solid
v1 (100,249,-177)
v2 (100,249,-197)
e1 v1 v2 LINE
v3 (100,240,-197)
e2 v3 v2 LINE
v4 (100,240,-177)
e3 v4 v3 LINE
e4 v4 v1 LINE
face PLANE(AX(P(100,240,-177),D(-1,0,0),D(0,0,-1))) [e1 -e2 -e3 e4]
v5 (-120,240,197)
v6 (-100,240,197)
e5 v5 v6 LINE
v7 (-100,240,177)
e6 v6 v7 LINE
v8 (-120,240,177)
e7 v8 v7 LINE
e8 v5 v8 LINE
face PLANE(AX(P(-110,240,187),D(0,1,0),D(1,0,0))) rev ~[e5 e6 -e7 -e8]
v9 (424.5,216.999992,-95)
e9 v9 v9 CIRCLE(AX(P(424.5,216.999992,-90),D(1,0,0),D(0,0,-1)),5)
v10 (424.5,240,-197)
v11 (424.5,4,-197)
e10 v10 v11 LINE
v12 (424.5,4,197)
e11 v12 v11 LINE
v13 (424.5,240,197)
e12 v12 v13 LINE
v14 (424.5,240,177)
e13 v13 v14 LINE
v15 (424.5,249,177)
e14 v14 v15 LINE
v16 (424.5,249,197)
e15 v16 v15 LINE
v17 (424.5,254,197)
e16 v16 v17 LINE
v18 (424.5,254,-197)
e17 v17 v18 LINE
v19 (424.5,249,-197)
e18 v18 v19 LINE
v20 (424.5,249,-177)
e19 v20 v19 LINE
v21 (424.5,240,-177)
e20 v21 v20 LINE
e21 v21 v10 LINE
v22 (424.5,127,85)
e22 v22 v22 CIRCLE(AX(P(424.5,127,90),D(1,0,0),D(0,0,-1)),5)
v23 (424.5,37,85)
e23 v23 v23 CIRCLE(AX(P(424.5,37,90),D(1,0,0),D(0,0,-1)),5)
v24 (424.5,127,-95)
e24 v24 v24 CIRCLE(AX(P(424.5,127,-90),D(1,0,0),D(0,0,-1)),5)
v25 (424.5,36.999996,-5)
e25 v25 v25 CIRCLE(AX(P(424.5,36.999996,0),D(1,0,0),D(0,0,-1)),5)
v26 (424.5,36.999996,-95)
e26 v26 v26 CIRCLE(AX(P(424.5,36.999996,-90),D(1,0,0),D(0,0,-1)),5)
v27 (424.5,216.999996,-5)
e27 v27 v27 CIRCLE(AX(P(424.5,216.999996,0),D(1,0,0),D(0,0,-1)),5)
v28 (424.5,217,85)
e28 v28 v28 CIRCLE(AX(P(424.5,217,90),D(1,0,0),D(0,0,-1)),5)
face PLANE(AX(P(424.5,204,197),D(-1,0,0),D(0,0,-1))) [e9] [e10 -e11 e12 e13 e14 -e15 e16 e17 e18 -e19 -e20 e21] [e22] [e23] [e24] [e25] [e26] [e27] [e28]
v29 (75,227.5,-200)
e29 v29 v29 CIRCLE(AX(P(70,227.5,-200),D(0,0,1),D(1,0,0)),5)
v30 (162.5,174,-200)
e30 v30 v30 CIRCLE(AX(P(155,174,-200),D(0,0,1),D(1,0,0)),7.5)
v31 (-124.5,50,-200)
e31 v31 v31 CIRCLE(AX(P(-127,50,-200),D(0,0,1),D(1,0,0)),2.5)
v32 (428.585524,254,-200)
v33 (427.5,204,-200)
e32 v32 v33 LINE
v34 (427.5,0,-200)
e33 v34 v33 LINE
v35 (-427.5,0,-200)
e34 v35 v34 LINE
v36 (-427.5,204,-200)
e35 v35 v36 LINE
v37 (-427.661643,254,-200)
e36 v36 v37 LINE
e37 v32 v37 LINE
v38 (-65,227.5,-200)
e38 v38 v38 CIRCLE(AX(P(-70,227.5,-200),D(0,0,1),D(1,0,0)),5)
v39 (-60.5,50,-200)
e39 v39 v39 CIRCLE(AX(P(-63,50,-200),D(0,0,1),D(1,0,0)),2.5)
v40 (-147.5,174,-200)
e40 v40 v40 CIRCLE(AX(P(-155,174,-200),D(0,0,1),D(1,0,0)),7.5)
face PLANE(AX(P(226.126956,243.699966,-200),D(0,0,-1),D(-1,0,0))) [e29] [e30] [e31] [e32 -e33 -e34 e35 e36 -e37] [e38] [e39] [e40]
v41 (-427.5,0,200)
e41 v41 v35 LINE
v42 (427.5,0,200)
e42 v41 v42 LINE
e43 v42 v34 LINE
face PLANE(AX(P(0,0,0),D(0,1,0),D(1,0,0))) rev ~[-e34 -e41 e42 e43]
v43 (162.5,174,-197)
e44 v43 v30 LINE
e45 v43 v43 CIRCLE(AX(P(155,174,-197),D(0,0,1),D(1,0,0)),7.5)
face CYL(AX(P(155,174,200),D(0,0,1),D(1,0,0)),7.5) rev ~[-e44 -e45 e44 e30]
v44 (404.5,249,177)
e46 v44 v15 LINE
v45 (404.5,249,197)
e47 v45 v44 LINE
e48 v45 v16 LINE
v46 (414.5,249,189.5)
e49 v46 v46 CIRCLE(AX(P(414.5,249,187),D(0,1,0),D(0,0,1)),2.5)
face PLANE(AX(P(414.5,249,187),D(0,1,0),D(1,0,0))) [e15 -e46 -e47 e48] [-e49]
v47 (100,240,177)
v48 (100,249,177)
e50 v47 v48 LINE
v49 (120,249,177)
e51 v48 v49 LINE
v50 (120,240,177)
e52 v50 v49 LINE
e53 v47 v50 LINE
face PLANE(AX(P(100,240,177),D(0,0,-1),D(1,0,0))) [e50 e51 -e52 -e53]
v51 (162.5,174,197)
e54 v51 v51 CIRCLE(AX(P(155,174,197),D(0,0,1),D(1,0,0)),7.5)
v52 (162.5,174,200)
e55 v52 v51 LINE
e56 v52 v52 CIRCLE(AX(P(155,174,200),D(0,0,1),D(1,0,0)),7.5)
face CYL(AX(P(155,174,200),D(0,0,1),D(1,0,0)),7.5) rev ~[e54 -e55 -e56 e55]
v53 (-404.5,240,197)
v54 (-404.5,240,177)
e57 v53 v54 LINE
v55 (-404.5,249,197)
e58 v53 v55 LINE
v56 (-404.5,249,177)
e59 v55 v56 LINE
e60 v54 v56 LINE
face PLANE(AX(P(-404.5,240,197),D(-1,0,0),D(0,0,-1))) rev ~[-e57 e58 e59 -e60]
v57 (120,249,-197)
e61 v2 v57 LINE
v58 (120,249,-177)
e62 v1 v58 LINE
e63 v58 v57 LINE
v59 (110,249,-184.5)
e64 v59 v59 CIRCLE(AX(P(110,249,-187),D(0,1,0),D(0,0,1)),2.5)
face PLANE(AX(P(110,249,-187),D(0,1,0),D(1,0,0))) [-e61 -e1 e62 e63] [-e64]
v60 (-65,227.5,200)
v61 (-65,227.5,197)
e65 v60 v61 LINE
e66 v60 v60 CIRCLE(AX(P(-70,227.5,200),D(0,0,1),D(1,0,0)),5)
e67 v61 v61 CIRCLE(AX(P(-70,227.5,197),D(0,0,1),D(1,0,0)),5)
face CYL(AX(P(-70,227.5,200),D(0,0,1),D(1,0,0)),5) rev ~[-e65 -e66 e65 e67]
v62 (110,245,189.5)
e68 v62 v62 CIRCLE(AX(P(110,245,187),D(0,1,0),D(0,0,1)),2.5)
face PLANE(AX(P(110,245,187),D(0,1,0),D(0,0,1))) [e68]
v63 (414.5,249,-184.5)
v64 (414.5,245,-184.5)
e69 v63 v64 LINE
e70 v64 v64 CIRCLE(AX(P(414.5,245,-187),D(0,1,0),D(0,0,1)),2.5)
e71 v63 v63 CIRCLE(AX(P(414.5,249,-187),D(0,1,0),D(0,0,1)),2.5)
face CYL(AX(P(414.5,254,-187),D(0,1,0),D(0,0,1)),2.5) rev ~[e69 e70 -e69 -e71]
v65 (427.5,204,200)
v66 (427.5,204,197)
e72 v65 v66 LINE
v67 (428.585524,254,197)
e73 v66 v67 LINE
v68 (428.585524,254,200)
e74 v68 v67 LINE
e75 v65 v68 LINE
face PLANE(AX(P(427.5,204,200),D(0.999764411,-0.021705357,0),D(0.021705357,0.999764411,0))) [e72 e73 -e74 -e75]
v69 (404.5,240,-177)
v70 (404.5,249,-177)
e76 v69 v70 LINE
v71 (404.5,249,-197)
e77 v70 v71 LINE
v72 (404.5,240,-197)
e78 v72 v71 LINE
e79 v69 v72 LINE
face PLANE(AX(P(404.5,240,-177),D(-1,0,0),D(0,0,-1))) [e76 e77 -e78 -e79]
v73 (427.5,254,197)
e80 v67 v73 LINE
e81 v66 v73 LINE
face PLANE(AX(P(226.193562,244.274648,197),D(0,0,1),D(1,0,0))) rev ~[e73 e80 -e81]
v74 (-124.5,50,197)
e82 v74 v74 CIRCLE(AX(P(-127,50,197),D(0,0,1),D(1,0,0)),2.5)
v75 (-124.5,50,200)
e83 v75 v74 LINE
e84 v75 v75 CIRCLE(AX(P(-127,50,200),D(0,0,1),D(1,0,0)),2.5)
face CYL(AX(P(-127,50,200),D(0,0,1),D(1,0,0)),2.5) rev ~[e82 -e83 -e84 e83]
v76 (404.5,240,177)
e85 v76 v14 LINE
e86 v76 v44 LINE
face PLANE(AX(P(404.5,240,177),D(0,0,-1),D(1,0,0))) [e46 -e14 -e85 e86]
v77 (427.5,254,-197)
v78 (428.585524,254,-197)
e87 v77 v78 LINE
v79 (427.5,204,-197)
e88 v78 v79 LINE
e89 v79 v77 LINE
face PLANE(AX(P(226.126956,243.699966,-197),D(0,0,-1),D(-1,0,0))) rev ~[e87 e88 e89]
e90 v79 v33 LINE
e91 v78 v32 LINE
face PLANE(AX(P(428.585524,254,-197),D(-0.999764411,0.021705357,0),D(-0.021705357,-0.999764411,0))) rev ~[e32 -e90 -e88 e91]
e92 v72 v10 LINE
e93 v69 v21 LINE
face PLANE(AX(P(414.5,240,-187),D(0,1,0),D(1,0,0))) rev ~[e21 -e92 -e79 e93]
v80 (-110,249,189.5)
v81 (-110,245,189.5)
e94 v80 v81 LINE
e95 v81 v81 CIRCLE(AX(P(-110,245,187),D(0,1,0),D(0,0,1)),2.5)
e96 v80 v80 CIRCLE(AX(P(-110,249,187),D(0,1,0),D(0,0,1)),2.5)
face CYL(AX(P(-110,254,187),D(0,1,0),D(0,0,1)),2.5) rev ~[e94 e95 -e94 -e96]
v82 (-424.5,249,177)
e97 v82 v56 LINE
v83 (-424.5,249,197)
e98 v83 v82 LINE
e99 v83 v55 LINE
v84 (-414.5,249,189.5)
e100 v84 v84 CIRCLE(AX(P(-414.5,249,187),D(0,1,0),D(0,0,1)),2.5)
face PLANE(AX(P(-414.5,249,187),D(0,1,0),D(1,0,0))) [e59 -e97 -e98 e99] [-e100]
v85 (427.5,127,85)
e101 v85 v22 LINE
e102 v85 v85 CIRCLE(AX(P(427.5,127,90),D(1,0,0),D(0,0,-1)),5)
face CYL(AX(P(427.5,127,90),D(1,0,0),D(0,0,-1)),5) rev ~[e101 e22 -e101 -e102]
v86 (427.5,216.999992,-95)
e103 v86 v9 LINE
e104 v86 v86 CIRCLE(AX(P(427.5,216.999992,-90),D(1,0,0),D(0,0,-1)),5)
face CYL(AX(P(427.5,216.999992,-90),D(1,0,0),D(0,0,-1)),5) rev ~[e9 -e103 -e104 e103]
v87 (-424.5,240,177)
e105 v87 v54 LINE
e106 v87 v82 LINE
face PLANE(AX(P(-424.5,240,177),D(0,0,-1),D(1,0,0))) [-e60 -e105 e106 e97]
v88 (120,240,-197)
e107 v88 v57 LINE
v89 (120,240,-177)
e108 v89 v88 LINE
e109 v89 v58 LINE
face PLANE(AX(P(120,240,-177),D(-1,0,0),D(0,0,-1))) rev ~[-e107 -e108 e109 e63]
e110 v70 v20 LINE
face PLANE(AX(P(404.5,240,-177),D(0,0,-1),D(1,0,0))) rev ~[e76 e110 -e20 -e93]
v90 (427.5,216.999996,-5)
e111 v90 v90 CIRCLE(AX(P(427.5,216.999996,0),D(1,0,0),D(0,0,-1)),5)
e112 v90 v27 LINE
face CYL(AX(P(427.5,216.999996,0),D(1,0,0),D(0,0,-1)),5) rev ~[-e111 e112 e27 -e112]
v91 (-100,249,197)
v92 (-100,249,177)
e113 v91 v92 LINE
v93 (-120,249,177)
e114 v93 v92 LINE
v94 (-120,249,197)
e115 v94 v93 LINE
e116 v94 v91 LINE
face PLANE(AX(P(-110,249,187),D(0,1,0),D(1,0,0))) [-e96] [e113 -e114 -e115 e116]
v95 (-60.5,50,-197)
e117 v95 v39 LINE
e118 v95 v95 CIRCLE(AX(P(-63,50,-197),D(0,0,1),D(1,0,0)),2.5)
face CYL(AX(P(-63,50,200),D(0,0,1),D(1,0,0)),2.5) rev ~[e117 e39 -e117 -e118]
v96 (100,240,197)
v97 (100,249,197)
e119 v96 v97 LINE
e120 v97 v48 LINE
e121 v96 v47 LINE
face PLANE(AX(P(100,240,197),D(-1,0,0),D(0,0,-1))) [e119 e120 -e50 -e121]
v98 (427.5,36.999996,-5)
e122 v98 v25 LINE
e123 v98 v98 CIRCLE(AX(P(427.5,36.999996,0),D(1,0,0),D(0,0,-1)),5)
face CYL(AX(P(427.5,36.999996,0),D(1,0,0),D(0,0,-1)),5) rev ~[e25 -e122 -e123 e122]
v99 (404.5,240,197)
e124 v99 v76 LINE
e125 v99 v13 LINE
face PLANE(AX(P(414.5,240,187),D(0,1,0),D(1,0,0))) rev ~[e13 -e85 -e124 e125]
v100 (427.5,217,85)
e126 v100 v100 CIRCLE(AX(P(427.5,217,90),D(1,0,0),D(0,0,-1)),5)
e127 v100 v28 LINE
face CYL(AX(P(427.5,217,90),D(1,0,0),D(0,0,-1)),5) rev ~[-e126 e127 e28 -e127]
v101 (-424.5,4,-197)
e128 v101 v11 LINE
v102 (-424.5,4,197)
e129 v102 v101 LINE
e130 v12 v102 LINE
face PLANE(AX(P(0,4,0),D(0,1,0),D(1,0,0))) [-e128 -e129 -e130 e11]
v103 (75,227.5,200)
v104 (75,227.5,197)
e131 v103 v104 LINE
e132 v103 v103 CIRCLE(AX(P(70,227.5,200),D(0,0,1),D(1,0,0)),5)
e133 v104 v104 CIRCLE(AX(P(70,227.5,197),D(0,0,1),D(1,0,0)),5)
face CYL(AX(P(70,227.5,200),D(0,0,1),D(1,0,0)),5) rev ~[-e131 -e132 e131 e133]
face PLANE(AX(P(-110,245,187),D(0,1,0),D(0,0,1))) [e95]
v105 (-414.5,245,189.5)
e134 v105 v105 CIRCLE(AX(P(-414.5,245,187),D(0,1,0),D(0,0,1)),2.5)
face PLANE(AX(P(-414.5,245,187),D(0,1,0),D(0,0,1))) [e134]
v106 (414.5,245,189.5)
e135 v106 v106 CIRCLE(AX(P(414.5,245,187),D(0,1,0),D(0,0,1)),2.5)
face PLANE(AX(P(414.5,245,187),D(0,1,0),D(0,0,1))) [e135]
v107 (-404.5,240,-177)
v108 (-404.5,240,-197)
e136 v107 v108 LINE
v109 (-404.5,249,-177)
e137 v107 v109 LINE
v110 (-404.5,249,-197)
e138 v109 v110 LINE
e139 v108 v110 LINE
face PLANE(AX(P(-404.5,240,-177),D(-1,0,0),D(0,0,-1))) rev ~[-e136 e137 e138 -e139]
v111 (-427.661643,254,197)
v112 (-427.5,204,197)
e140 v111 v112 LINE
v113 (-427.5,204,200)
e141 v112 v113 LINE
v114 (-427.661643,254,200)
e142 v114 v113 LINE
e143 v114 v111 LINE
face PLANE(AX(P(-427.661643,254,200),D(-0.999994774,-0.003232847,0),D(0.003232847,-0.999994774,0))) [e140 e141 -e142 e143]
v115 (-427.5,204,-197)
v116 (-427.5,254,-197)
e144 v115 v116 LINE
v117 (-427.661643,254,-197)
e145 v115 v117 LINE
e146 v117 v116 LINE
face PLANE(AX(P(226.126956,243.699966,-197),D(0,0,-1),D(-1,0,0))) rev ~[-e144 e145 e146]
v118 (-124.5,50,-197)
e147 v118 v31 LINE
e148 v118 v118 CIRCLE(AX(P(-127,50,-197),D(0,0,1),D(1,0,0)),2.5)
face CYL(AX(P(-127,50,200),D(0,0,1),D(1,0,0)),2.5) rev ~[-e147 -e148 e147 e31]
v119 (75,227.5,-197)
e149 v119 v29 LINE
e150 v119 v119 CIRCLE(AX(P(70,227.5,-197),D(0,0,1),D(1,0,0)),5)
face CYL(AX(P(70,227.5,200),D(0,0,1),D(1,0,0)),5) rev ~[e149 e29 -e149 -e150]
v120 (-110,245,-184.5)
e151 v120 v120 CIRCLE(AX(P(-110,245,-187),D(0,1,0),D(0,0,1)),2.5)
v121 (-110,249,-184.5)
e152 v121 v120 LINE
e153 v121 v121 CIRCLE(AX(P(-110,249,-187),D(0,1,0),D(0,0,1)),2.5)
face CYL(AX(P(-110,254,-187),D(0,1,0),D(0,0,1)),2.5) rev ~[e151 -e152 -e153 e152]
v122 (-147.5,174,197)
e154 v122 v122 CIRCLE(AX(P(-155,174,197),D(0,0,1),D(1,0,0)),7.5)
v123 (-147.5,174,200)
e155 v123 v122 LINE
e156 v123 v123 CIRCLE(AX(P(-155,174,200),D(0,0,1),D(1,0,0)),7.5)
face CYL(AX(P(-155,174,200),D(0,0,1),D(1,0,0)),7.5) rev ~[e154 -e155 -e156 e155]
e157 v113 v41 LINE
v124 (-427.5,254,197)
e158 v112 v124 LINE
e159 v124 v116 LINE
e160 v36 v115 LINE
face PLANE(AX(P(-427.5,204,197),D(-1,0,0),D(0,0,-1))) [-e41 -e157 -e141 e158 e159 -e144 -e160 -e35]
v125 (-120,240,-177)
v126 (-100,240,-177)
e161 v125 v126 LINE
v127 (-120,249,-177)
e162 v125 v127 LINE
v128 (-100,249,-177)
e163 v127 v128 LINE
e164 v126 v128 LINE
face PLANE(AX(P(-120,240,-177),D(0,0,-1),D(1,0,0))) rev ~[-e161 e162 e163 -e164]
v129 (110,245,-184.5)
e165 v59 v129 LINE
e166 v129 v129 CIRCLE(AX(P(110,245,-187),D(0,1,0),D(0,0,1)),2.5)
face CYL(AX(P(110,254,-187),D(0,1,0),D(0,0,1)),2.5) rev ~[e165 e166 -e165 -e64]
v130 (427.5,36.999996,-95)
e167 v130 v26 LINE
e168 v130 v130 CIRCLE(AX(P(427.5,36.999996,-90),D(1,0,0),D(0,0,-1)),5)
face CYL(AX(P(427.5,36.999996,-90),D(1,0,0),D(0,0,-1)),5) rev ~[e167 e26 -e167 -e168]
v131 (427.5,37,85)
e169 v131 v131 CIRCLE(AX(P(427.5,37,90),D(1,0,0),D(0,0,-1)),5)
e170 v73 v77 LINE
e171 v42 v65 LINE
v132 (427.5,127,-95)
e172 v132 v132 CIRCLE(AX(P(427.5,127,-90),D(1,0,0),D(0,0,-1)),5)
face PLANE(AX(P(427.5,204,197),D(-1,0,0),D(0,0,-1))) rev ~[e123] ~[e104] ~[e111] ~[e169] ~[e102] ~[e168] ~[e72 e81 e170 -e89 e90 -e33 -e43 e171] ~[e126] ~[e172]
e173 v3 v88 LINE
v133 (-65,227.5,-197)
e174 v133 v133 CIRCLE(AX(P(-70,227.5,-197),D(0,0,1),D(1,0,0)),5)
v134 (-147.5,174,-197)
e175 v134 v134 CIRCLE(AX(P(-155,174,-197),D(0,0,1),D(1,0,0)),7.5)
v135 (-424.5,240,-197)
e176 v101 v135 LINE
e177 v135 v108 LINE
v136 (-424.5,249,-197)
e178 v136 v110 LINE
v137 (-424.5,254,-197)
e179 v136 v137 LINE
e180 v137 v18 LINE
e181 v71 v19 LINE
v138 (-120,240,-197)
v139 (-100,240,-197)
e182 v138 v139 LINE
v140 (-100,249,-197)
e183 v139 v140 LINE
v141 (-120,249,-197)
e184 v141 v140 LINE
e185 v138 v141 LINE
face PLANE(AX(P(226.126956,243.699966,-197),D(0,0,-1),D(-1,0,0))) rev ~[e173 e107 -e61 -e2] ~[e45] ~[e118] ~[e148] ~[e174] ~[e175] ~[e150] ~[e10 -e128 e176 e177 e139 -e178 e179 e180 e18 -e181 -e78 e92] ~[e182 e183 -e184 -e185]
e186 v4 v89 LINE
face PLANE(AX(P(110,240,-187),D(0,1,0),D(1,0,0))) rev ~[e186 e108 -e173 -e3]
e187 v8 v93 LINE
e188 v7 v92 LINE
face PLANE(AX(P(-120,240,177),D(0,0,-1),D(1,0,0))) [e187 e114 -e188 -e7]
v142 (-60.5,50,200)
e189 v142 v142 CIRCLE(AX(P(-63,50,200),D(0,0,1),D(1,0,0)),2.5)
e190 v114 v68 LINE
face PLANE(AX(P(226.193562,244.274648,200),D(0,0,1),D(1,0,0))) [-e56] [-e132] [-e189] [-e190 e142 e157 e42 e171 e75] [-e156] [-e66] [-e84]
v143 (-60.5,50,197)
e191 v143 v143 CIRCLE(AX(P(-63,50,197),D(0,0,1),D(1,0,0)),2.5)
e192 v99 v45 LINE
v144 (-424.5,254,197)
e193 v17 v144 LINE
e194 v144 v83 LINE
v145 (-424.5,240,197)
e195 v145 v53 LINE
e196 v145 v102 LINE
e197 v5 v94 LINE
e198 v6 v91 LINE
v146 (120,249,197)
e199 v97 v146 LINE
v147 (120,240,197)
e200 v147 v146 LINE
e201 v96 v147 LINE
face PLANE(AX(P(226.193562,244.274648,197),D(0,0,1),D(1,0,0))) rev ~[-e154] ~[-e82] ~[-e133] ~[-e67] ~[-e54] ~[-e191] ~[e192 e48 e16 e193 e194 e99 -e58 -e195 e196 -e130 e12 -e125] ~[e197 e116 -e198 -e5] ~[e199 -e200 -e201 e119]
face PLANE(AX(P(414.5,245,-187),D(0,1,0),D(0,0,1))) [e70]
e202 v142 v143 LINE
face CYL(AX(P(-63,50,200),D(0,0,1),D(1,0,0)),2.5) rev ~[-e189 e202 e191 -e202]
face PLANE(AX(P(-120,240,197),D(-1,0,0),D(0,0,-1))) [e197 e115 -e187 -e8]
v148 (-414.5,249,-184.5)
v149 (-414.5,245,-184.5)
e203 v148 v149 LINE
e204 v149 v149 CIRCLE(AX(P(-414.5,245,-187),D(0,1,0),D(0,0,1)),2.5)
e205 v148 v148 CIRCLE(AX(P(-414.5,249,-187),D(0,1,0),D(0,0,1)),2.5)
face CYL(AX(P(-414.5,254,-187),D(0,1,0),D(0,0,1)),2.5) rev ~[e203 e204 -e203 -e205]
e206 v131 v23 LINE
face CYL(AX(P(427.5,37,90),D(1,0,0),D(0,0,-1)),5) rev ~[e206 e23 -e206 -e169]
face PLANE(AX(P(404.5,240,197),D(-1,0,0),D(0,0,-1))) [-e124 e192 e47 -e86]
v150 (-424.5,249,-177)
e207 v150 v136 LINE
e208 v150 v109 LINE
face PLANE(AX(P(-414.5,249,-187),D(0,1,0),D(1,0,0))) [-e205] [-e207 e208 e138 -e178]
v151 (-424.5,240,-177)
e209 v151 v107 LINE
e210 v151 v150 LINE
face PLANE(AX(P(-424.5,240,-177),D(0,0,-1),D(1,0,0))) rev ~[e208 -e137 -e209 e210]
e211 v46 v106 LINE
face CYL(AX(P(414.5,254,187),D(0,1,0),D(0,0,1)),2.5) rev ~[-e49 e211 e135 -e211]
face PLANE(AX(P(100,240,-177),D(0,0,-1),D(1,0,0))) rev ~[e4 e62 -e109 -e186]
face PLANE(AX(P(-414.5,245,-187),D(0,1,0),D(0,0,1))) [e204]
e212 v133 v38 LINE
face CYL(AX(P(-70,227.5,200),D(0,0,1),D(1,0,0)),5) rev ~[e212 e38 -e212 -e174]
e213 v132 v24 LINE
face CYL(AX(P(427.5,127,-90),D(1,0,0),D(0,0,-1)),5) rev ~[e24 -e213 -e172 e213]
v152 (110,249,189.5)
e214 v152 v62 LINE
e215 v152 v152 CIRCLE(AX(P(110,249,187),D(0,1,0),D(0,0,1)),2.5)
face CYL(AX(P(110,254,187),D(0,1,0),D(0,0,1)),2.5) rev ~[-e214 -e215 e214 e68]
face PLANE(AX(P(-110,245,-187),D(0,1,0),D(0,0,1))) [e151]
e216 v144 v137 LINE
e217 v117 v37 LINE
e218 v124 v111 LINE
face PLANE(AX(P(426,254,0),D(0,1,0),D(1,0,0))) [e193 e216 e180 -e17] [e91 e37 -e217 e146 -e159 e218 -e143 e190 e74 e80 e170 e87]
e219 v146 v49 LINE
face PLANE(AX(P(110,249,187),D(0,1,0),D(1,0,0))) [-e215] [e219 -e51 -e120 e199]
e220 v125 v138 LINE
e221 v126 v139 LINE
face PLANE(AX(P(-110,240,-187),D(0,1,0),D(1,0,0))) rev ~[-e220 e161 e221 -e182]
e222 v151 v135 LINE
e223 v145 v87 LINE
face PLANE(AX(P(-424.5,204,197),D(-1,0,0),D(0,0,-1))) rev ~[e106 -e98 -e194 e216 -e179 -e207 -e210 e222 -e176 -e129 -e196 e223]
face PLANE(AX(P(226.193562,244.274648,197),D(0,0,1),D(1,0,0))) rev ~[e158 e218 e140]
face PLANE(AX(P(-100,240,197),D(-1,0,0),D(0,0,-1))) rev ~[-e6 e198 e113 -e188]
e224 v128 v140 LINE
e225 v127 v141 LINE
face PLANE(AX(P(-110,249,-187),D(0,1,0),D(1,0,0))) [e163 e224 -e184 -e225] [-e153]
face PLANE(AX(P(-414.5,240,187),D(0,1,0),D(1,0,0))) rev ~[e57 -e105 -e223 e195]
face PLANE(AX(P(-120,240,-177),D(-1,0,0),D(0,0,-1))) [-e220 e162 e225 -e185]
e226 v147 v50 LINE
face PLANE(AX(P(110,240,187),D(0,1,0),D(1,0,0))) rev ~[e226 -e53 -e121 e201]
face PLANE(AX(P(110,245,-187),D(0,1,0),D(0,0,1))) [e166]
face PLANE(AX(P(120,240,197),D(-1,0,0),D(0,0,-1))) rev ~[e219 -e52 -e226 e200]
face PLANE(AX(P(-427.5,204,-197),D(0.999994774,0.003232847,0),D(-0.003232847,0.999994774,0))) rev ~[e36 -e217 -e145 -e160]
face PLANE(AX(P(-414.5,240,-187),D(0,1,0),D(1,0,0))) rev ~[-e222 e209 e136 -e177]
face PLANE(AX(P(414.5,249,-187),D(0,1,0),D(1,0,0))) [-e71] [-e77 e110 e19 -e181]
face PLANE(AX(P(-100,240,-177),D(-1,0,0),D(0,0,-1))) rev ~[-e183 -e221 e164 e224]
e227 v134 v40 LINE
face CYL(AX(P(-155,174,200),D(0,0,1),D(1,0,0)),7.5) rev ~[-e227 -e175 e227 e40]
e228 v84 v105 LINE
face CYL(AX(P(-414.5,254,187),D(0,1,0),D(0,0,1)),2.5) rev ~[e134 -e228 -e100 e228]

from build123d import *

# Parameters (mm, degrees)
SKETCH1_W            = 855
SKETCH1_H            = 400
BOSS_EXTRUDE1_DEPTH  = 4
SKETCH3_W            = 3
SKETCH3_H            = 394
BOSS_EXTRUDE2_DEPTH  = 200
BOSS_EXTRUDE3_DEPTH  = 3
BOSS_EXTRUDE4_START  = -3
BOSS_EXTRUDE4_DEPTH  = 3
SKETCH10_R           = 5
CUT_EXTRUDE4_DEPTH   = 639.178854241
SKETCH11_R           = 2.5
CUT_EXTRUDE5_DEPTH   = 639.178854241
BOSS_EXTRUDE7_DEPTH  = 3
BOSS_EXTRUDE10_START = -3
BOSS_EXTRUDE10_DEPTH = 3
SKETCH33_W           = 3
SKETCH33_H           = 394
BOSS_EXTRUDE14_DEPTH = 50
SKETCH34_W           = 3
SKETCH34_H           = 394
BOSS_EXTRUDE15_DEPTH = 50
SKETCH36_W           = 20
SKETCH36_H           = 20
BOSS_EXTRUDE16_DEPTH = 9
SKETCH40_R           = 2.5
CUT_EXTRUDE6_DEPTH   = 9
SKETCH44_W           = 20
SKETCH44_H           = 20
BOSS_EXTRUDE18_DEPTH = 9
SKETCH45_R           = 2.5
CUT_EXTRUDE7_DEPTH   = 9
SKETCH46_W           = 20
SKETCH46_H           = 20
BOSS_EXTRUDE19_DEPTH = 9
SKETCH47_R           = 2.5
CUT_EXTRUDE8_DEPTH   = 9
SKETCH48_W           = 20
SKETCH48_H           = 20
BOSS_EXTRUDE20_DEPTH = 9
SKETCH49_R           = 2.5
CUT_EXTRUDE9_DEPTH   = 9
SKETCH50_W           = 20
SKETCH50_H           = 20
BOSS_EXTRUDE21_DEPTH = 9
SKETCH51_R           = 2.5
CUT_EXTRUDE10_DEPTH  = 9
SKETCH52_W           = 20
SKETCH52_H           = 20
BOSS_EXTRUDE22_DEPTH = 9
SKETCH53_R           = 2.5
CUT_EXTRUDE11_DEPTH  = 9
SKETCH58_W           = 20
SKETCH58_H           = 20
BOSS_EXTRUDE25_DEPTH = 9
SKETCH61_R           = 2.5
CUT_EXTRUDE13_DEPTH  = 9
SKETCH62_W           = 20
SKETCH62_H           = 20
BOSS_EXTRUDE26_DEPTH = 9
SKETCH63_R           = 2.5
CUT_EXTRUDE14_DEPTH  = 9
SKETCH64_R           = 7.5
CUT_EXTRUDE15_DEPTH  = 639.906527631
SKETCH65_R           = 5
CUT_EXTRUDE16_DEPTH  = 3


with BuildPart() as part:
    # Sketch1 → Boss-Extrude1 (new body)
    with BuildSketch(Plane(origin=(0, 0, 0), x_dir=(1, 0, 0), z_dir=(0, 1, 0))):
        Rectangle(SKETCH1_W, SKETCH1_H)
    extrude(amount=BOSS_EXTRUDE1_DEPTH)

    # Sketch3 → Boss-Extrude2 (add)
    with BuildSketch(Plane(origin=(0, 4, 0), x_dir=(1, 0, 0), z_dir=(0, 1, 0))):
        Polygon((-424.5, 200), (-424.5, 197), (424.5, 197), (427.5, 197), (427.5, 200), align=None)
        with Locations((426, 0)):
            Rectangle(SKETCH3_W, SKETCH3_H)
        Polygon((-427.5, -197), (-427.5, -200), (427.5, -200), (427.5, -197), (424.5, -197), (-424.5, -197), align=None)
        Polygon((-427.5, 200), (-427.5, -197), (-424.5, -197), (-424.5, 197), (-424.5, 200), align=None)
    extrude(amount=BOSS_EXTRUDE2_DEPTH)

    # Sketch4 → Boss-Extrude3 (add)
    with BuildSketch(Plane.XY.offset(200)):
        with BuildLine():
            ThreePointArc((427.5, 204), (215.207022423, 241.457541713), (0, 254))
            Line((0, 254), (0, 204))
            Line((0, 204), (427.5, 204))
        make_face()
        with BuildLine():
            Line((0, 204), (0, 254))
            ThreePointArc((0, 254), (-215.207022423, 241.457541713), (-427.5, 204))
            Line((-427.5, 204), (0, 204))
        make_face()
        with BuildLine():
            ThreePointArc((427.5, 204), (215.207022423, 241.457541713), (0, 254))
            Line((0, 254), (0, 204))
            Line((0, 204), (427.5, 204))
        make_face()
        with BuildLine():
            Line((0, 204), (0, 254))
            ThreePointArc((0, 254), (-215.207022423, 241.457541713), (-427.5, 204))
            Line((-427.5, 204), (0, 204))
        make_face()
    extrude(amount=-BOSS_EXTRUDE3_DEPTH)

    # Sketch6 → Boss-Extrude4 (add)
    with BuildSketch(Plane(origin=(0, 0, -200), x_dir=(-1, 0, 0), z_dir=(0, 0, -1)).offset(BOSS_EXTRUDE4_START)):
        with BuildLine():
            ThreePointArc((427.5, 204), (215.207022423, 241.457541713), (0, 254))
            Line((0, 254), (0, 204))
            Line((0, 204), (427.5, 204))
        make_face()
        with BuildLine():
            Line((0, 204), (0, 254))
            ThreePointArc((0, 254), (-215.207022423, 241.457541713), (-427.5, 204))
            Line((-427.5, 204), (0, 204))
        make_face()
        with BuildLine():
            ThreePointArc((427.5, 204), (215.207022423, 241.457541713), (0, 254))
            Line((0, 254), (0, 204))
            Line((0, 204), (427.5, 204))
        make_face()
        with BuildLine():
            Line((0, 204), (0, 254))
            ThreePointArc((0, 254), (-215.207022423, 241.457541713), (-427.5, 204))
            Line((-427.5, 204), (0, 204))
        make_face()
    extrude(amount=BOSS_EXTRUDE4_DEPTH)

    # Sketch10 → Cut-Extrude4 (cut, through all)
    with BuildSketch(Plane.XY.offset(200)):
        with Locations((70, 227.5)):
            Circle(SKETCH10_R)
        with Locations((-70, 227.5)):
            Circle(SKETCH10_R)
    extrude(amount=-CUT_EXTRUDE4_DEPTH, mode=Mode.SUBTRACT)

    # Sketch11 → Cut-Extrude5 (cut, through all)
    with BuildSketch(Plane.XY.offset(200)):
        with Locations((-63, 50)):
            Circle(SKETCH11_R)
        with Locations((-127, 50)):
            Circle(SKETCH11_R)
    extrude(amount=-CUT_EXTRUDE5_DEPTH, mode=Mode.SUBTRACT)

    # Sketch12 → Boss-Extrude7 (add)
    with BuildSketch(Plane.XY.offset(200)):
        with BuildLine():
            Line((428.585523611, 254), (0, 254))
            ThreePointArc((0, 254), (215.207022423, 241.457541713), (427.5, 204))
            Line((427.5, 204), (428.585523611, 254))
        make_face()
        with BuildLine():
            ThreePointArc((-427.5, 204), (-215.207022423, 241.457541713), (0, 254))
            Line((0, 254), (-427.66164317, 254))
            Line((-427.66164317, 254), (-427.5, 204))
        make_face()
    extrude(amount=-BOSS_EXTRUDE7_DEPTH)

    # Sketch23 → Boss-Extrude10 (add)
    # profile 1 of 2: a face of its own
    with BuildSketch(Plane(origin=(0, 0, -200), x_dir=(-1, 0, 0), z_dir=(0, 0, -1)).offset(BOSS_EXTRUDE10_START)):
        with BuildLine():
            Line((-428.585523611, 254), (-427.5, 204))
            add(Edge.make_bspline(
                [(-427.5, 204), (-213.75, 254), (0, 254)],
                knots=[0, 0, 0, 0.5, 0.5, 0.5], degree=2))
            Line((0, 254), (-428.585523611, 254))
        make_face()
    # profile 2 of 2: a face of its own
    with BuildSketch(Plane(origin=(0, 0, -200), x_dir=(-1, 0, 0), z_dir=(0, 0, -1)).offset(BOSS_EXTRUDE10_START)):
        with BuildLine():
            Line((427.66164317, 254), (0, 254))
            add(Edge.make_bspline(
                [(0, 254), (213.75, 254), (427.5, 204)],
                knots=[0.5, 0.5, 0.5, 1, 1, 1], degree=2))
            Line((427.5, 204), (427.66164317, 254))
        make_face()
        with BuildLine():
            ThreePointArc((0, 254), (215.207022423, 241.457541713), (427.5, 204))
            add(Edge.make_bspline(
                [(0, 254), (213.75, 254), (427.5, 204)],
                knots=[0.5, 0.5, 0.5, 1, 1, 1], degree=2))
        make_face(mode=Mode.SUBTRACT)
    extrude(amount=BOSS_EXTRUDE10_DEPTH)

    # Sketch33 → Boss-Extrude14 (add)
    with BuildSketch(Plane(origin=(0, 204, 0), x_dir=(1, 0, 0), z_dir=(0, 1, 0))):
        with Locations((-426, 0)):
            Rectangle(SKETCH33_W, SKETCH33_H)
    extrude(amount=BOSS_EXTRUDE14_DEPTH)

    # Sketch34 → Boss-Extrude15 (add)
    with BuildSketch(Plane(origin=(0, 204, 0), x_dir=(1, 0, 0), z_dir=(0, 1, 0))):
        with Locations((426, 0)):
            Rectangle(SKETCH34_W, SKETCH34_H)
    extrude(amount=BOSS_EXTRUDE15_DEPTH)

    # Sketch36 → Boss-Extrude16 (add)
    with BuildSketch(Plane(origin=(0, 240, 0), x_dir=(1, 0, 0), z_dir=(0, 1, 0))):
        with Locations((-414.5, 187)):
            Rectangle(SKETCH36_W, SKETCH36_H)
    extrude(amount=BOSS_EXTRUDE16_DEPTH)

    # Sketch40 → Cut-Extrude6 (cut)
    with BuildSketch(Plane(origin=(0, 254, 0), x_dir=(1, 0, 0), z_dir=(0, 1, 0))):
        with Locations(Location((-414.5, 187, 0), (0, 0, 270))):
            Circle(SKETCH40_R)
    extrude(amount=-CUT_EXTRUDE6_DEPTH, mode=Mode.SUBTRACT)

    # Sketch44 → Boss-Extrude18 (add)
    with BuildSketch(Plane(origin=(0, 240, 0), x_dir=(1, 0, 0), z_dir=(0, 1, 0))):
        with Locations((-414.5, -187)):
            Rectangle(SKETCH44_W, SKETCH44_H)
    extrude(amount=BOSS_EXTRUDE18_DEPTH)

    # Sketch45 → Cut-Extrude7 (cut)
    with BuildSketch(Plane(origin=(0, 254, 0), x_dir=(1, 0, 0), z_dir=(0, 1, 0))):
        with Locations(Location((-414.5, -187, 0), (0, 0, 270))):
            Circle(SKETCH45_R)
    extrude(amount=-CUT_EXTRUDE7_DEPTH, mode=Mode.SUBTRACT)

    # Sketch46 → Boss-Extrude19 (add)
    with BuildSketch(Plane(origin=(0, 240, 0), x_dir=(1, 0, 0), z_dir=(0, 1, 0))):
        with Locations((414.5, 187)):
            Rectangle(SKETCH46_W, SKETCH46_H)
    extrude(amount=BOSS_EXTRUDE19_DEPTH)

    # Sketch47 → Cut-Extrude8 (cut)
    with BuildSketch(Plane(origin=(0, 254, 0), x_dir=(1, 0, 0), z_dir=(0, 1, 0))):
        with Locations(Location((414.5, 187, 0), (0, 0, 270))):
            Circle(SKETCH47_R)
    extrude(amount=-CUT_EXTRUDE8_DEPTH, mode=Mode.SUBTRACT)

    # Sketch48 → Boss-Extrude20 (add)
    with BuildSketch(Plane(origin=(0, 240, 0), x_dir=(1, 0, 0), z_dir=(0, 1, 0))):
        with Locations((414.5, -187)):
            Rectangle(SKETCH48_W, SKETCH48_H)
    extrude(amount=BOSS_EXTRUDE20_DEPTH)

    # Sketch49 → Cut-Extrude9 (cut)
    with BuildSketch(Plane(origin=(0, 254, 0), x_dir=(1, 0, 0), z_dir=(0, 1, 0))):
        with Locations(Location((414.5, -187, 0), (0, 0, 270))):
            Circle(SKETCH49_R)
    extrude(amount=-CUT_EXTRUDE9_DEPTH, mode=Mode.SUBTRACT)

    # Sketch50 → Boss-Extrude21 (add)
    with BuildSketch(Plane(origin=(0, 240, 0), x_dir=(1, 0, 0), z_dir=(0, 1, 0))):
        with Locations((110, 187)):
            Rectangle(SKETCH50_W, SKETCH50_H)
    extrude(amount=BOSS_EXTRUDE21_DEPTH)

    # Sketch51 → Cut-Extrude10 (cut)
    with BuildSketch(Plane(origin=(0, 254, 0), x_dir=(1, 0, 0), z_dir=(0, 1, 0))):
        with Locations(Location((110, 187, 0), (0, 0, 270))):
            Circle(SKETCH51_R)
    extrude(amount=-CUT_EXTRUDE10_DEPTH, mode=Mode.SUBTRACT)

    # Sketch52 → Boss-Extrude22 (add)
    with BuildSketch(Plane(origin=(0, 240, 0), x_dir=(1, 0, 0), z_dir=(0, 1, 0))):
        with Locations((110, -187)):
            Rectangle(SKETCH52_W, SKETCH52_H)
    extrude(amount=BOSS_EXTRUDE22_DEPTH)

    # Sketch53 → Cut-Extrude11 (cut)
    with BuildSketch(Plane(origin=(0, 254, 0), x_dir=(1, 0, 0), z_dir=(0, 1, 0))):
        with Locations(Location((110, -187, 0), (0, 0, 270))):
            Circle(SKETCH53_R)
    extrude(amount=-CUT_EXTRUDE11_DEPTH, mode=Mode.SUBTRACT)

    # Sketch58 → Boss-Extrude25 (add)
    with BuildSketch(Plane(origin=(0, 240, 0), x_dir=(1, 0, 0), z_dir=(0, 1, 0))):
        with Locations((-110, 187)):
            Rectangle(SKETCH58_W, SKETCH58_H)
    extrude(amount=BOSS_EXTRUDE25_DEPTH)

    # Sketch61 → Cut-Extrude13 (cut)
    with BuildSketch(Plane(origin=(0, 254, 0), x_dir=(1, 0, 0), z_dir=(0, 1, 0))):
        with Locations(Location((-110, 187, 0), (0, 0, 270))):
            Circle(SKETCH61_R)
    extrude(amount=-CUT_EXTRUDE13_DEPTH, mode=Mode.SUBTRACT)

    # Sketch62 → Boss-Extrude26 (add)
    with BuildSketch(Plane(origin=(0, 240, 0), x_dir=(1, 0, 0), z_dir=(0, 1, 0))):
        with Locations((-110, -187)):
            Rectangle(SKETCH62_W, SKETCH62_H)
    extrude(amount=BOSS_EXTRUDE26_DEPTH)

    # Sketch63 → Cut-Extrude14 (cut)
    with BuildSketch(Plane(origin=(0, 254, 0), x_dir=(1, 0, 0), z_dir=(0, 1, 0))):
        with Locations(Location((-110, -187, 0), (0, 0, 270))):
            Circle(SKETCH63_R)
    extrude(amount=-CUT_EXTRUDE14_DEPTH, mode=Mode.SUBTRACT)

    # Sketch64 → Cut-Extrude15 (cut, through all)
    with BuildSketch(Plane.XY.offset(200)):
        with Locations((155, 174)):
            Circle(SKETCH64_R)
        with Locations((-155, 174)):
            Circle(SKETCH64_R)
    extrude(amount=-CUT_EXTRUDE15_DEPTH, mode=Mode.SUBTRACT)

    # Sketch65 → Cut-Extrude16 (cut)
    with BuildSketch(Plane(origin=(427.5, 0, 0), x_dir=(0, 0, -1), z_dir=(1, 0, 0))):
        with Locations((90, 216.999992336)):
            Circle(SKETCH65_R)
        with Locations((0, 216.999996168)):
            Circle(SKETCH65_R)
        with Locations((-90, 217)):
            Circle(SKETCH65_R)
        with Locations((-90, 127)):
            Circle(SKETCH65_R)
        with Locations((90, 127)):
            Circle(SKETCH65_R)
        with Locations((90, 36.999996168)):
            Circle(SKETCH65_R)
        with Locations((0, 36.999996168)):
            Circle(SKETCH65_R)
        with Locations((-90, 37)):
            Circle(SKETCH65_R)
    extrude(amount=-CUT_EXTRUDE16_DEPTH, mode=Mode.SUBTRACT)


solid = part.part
